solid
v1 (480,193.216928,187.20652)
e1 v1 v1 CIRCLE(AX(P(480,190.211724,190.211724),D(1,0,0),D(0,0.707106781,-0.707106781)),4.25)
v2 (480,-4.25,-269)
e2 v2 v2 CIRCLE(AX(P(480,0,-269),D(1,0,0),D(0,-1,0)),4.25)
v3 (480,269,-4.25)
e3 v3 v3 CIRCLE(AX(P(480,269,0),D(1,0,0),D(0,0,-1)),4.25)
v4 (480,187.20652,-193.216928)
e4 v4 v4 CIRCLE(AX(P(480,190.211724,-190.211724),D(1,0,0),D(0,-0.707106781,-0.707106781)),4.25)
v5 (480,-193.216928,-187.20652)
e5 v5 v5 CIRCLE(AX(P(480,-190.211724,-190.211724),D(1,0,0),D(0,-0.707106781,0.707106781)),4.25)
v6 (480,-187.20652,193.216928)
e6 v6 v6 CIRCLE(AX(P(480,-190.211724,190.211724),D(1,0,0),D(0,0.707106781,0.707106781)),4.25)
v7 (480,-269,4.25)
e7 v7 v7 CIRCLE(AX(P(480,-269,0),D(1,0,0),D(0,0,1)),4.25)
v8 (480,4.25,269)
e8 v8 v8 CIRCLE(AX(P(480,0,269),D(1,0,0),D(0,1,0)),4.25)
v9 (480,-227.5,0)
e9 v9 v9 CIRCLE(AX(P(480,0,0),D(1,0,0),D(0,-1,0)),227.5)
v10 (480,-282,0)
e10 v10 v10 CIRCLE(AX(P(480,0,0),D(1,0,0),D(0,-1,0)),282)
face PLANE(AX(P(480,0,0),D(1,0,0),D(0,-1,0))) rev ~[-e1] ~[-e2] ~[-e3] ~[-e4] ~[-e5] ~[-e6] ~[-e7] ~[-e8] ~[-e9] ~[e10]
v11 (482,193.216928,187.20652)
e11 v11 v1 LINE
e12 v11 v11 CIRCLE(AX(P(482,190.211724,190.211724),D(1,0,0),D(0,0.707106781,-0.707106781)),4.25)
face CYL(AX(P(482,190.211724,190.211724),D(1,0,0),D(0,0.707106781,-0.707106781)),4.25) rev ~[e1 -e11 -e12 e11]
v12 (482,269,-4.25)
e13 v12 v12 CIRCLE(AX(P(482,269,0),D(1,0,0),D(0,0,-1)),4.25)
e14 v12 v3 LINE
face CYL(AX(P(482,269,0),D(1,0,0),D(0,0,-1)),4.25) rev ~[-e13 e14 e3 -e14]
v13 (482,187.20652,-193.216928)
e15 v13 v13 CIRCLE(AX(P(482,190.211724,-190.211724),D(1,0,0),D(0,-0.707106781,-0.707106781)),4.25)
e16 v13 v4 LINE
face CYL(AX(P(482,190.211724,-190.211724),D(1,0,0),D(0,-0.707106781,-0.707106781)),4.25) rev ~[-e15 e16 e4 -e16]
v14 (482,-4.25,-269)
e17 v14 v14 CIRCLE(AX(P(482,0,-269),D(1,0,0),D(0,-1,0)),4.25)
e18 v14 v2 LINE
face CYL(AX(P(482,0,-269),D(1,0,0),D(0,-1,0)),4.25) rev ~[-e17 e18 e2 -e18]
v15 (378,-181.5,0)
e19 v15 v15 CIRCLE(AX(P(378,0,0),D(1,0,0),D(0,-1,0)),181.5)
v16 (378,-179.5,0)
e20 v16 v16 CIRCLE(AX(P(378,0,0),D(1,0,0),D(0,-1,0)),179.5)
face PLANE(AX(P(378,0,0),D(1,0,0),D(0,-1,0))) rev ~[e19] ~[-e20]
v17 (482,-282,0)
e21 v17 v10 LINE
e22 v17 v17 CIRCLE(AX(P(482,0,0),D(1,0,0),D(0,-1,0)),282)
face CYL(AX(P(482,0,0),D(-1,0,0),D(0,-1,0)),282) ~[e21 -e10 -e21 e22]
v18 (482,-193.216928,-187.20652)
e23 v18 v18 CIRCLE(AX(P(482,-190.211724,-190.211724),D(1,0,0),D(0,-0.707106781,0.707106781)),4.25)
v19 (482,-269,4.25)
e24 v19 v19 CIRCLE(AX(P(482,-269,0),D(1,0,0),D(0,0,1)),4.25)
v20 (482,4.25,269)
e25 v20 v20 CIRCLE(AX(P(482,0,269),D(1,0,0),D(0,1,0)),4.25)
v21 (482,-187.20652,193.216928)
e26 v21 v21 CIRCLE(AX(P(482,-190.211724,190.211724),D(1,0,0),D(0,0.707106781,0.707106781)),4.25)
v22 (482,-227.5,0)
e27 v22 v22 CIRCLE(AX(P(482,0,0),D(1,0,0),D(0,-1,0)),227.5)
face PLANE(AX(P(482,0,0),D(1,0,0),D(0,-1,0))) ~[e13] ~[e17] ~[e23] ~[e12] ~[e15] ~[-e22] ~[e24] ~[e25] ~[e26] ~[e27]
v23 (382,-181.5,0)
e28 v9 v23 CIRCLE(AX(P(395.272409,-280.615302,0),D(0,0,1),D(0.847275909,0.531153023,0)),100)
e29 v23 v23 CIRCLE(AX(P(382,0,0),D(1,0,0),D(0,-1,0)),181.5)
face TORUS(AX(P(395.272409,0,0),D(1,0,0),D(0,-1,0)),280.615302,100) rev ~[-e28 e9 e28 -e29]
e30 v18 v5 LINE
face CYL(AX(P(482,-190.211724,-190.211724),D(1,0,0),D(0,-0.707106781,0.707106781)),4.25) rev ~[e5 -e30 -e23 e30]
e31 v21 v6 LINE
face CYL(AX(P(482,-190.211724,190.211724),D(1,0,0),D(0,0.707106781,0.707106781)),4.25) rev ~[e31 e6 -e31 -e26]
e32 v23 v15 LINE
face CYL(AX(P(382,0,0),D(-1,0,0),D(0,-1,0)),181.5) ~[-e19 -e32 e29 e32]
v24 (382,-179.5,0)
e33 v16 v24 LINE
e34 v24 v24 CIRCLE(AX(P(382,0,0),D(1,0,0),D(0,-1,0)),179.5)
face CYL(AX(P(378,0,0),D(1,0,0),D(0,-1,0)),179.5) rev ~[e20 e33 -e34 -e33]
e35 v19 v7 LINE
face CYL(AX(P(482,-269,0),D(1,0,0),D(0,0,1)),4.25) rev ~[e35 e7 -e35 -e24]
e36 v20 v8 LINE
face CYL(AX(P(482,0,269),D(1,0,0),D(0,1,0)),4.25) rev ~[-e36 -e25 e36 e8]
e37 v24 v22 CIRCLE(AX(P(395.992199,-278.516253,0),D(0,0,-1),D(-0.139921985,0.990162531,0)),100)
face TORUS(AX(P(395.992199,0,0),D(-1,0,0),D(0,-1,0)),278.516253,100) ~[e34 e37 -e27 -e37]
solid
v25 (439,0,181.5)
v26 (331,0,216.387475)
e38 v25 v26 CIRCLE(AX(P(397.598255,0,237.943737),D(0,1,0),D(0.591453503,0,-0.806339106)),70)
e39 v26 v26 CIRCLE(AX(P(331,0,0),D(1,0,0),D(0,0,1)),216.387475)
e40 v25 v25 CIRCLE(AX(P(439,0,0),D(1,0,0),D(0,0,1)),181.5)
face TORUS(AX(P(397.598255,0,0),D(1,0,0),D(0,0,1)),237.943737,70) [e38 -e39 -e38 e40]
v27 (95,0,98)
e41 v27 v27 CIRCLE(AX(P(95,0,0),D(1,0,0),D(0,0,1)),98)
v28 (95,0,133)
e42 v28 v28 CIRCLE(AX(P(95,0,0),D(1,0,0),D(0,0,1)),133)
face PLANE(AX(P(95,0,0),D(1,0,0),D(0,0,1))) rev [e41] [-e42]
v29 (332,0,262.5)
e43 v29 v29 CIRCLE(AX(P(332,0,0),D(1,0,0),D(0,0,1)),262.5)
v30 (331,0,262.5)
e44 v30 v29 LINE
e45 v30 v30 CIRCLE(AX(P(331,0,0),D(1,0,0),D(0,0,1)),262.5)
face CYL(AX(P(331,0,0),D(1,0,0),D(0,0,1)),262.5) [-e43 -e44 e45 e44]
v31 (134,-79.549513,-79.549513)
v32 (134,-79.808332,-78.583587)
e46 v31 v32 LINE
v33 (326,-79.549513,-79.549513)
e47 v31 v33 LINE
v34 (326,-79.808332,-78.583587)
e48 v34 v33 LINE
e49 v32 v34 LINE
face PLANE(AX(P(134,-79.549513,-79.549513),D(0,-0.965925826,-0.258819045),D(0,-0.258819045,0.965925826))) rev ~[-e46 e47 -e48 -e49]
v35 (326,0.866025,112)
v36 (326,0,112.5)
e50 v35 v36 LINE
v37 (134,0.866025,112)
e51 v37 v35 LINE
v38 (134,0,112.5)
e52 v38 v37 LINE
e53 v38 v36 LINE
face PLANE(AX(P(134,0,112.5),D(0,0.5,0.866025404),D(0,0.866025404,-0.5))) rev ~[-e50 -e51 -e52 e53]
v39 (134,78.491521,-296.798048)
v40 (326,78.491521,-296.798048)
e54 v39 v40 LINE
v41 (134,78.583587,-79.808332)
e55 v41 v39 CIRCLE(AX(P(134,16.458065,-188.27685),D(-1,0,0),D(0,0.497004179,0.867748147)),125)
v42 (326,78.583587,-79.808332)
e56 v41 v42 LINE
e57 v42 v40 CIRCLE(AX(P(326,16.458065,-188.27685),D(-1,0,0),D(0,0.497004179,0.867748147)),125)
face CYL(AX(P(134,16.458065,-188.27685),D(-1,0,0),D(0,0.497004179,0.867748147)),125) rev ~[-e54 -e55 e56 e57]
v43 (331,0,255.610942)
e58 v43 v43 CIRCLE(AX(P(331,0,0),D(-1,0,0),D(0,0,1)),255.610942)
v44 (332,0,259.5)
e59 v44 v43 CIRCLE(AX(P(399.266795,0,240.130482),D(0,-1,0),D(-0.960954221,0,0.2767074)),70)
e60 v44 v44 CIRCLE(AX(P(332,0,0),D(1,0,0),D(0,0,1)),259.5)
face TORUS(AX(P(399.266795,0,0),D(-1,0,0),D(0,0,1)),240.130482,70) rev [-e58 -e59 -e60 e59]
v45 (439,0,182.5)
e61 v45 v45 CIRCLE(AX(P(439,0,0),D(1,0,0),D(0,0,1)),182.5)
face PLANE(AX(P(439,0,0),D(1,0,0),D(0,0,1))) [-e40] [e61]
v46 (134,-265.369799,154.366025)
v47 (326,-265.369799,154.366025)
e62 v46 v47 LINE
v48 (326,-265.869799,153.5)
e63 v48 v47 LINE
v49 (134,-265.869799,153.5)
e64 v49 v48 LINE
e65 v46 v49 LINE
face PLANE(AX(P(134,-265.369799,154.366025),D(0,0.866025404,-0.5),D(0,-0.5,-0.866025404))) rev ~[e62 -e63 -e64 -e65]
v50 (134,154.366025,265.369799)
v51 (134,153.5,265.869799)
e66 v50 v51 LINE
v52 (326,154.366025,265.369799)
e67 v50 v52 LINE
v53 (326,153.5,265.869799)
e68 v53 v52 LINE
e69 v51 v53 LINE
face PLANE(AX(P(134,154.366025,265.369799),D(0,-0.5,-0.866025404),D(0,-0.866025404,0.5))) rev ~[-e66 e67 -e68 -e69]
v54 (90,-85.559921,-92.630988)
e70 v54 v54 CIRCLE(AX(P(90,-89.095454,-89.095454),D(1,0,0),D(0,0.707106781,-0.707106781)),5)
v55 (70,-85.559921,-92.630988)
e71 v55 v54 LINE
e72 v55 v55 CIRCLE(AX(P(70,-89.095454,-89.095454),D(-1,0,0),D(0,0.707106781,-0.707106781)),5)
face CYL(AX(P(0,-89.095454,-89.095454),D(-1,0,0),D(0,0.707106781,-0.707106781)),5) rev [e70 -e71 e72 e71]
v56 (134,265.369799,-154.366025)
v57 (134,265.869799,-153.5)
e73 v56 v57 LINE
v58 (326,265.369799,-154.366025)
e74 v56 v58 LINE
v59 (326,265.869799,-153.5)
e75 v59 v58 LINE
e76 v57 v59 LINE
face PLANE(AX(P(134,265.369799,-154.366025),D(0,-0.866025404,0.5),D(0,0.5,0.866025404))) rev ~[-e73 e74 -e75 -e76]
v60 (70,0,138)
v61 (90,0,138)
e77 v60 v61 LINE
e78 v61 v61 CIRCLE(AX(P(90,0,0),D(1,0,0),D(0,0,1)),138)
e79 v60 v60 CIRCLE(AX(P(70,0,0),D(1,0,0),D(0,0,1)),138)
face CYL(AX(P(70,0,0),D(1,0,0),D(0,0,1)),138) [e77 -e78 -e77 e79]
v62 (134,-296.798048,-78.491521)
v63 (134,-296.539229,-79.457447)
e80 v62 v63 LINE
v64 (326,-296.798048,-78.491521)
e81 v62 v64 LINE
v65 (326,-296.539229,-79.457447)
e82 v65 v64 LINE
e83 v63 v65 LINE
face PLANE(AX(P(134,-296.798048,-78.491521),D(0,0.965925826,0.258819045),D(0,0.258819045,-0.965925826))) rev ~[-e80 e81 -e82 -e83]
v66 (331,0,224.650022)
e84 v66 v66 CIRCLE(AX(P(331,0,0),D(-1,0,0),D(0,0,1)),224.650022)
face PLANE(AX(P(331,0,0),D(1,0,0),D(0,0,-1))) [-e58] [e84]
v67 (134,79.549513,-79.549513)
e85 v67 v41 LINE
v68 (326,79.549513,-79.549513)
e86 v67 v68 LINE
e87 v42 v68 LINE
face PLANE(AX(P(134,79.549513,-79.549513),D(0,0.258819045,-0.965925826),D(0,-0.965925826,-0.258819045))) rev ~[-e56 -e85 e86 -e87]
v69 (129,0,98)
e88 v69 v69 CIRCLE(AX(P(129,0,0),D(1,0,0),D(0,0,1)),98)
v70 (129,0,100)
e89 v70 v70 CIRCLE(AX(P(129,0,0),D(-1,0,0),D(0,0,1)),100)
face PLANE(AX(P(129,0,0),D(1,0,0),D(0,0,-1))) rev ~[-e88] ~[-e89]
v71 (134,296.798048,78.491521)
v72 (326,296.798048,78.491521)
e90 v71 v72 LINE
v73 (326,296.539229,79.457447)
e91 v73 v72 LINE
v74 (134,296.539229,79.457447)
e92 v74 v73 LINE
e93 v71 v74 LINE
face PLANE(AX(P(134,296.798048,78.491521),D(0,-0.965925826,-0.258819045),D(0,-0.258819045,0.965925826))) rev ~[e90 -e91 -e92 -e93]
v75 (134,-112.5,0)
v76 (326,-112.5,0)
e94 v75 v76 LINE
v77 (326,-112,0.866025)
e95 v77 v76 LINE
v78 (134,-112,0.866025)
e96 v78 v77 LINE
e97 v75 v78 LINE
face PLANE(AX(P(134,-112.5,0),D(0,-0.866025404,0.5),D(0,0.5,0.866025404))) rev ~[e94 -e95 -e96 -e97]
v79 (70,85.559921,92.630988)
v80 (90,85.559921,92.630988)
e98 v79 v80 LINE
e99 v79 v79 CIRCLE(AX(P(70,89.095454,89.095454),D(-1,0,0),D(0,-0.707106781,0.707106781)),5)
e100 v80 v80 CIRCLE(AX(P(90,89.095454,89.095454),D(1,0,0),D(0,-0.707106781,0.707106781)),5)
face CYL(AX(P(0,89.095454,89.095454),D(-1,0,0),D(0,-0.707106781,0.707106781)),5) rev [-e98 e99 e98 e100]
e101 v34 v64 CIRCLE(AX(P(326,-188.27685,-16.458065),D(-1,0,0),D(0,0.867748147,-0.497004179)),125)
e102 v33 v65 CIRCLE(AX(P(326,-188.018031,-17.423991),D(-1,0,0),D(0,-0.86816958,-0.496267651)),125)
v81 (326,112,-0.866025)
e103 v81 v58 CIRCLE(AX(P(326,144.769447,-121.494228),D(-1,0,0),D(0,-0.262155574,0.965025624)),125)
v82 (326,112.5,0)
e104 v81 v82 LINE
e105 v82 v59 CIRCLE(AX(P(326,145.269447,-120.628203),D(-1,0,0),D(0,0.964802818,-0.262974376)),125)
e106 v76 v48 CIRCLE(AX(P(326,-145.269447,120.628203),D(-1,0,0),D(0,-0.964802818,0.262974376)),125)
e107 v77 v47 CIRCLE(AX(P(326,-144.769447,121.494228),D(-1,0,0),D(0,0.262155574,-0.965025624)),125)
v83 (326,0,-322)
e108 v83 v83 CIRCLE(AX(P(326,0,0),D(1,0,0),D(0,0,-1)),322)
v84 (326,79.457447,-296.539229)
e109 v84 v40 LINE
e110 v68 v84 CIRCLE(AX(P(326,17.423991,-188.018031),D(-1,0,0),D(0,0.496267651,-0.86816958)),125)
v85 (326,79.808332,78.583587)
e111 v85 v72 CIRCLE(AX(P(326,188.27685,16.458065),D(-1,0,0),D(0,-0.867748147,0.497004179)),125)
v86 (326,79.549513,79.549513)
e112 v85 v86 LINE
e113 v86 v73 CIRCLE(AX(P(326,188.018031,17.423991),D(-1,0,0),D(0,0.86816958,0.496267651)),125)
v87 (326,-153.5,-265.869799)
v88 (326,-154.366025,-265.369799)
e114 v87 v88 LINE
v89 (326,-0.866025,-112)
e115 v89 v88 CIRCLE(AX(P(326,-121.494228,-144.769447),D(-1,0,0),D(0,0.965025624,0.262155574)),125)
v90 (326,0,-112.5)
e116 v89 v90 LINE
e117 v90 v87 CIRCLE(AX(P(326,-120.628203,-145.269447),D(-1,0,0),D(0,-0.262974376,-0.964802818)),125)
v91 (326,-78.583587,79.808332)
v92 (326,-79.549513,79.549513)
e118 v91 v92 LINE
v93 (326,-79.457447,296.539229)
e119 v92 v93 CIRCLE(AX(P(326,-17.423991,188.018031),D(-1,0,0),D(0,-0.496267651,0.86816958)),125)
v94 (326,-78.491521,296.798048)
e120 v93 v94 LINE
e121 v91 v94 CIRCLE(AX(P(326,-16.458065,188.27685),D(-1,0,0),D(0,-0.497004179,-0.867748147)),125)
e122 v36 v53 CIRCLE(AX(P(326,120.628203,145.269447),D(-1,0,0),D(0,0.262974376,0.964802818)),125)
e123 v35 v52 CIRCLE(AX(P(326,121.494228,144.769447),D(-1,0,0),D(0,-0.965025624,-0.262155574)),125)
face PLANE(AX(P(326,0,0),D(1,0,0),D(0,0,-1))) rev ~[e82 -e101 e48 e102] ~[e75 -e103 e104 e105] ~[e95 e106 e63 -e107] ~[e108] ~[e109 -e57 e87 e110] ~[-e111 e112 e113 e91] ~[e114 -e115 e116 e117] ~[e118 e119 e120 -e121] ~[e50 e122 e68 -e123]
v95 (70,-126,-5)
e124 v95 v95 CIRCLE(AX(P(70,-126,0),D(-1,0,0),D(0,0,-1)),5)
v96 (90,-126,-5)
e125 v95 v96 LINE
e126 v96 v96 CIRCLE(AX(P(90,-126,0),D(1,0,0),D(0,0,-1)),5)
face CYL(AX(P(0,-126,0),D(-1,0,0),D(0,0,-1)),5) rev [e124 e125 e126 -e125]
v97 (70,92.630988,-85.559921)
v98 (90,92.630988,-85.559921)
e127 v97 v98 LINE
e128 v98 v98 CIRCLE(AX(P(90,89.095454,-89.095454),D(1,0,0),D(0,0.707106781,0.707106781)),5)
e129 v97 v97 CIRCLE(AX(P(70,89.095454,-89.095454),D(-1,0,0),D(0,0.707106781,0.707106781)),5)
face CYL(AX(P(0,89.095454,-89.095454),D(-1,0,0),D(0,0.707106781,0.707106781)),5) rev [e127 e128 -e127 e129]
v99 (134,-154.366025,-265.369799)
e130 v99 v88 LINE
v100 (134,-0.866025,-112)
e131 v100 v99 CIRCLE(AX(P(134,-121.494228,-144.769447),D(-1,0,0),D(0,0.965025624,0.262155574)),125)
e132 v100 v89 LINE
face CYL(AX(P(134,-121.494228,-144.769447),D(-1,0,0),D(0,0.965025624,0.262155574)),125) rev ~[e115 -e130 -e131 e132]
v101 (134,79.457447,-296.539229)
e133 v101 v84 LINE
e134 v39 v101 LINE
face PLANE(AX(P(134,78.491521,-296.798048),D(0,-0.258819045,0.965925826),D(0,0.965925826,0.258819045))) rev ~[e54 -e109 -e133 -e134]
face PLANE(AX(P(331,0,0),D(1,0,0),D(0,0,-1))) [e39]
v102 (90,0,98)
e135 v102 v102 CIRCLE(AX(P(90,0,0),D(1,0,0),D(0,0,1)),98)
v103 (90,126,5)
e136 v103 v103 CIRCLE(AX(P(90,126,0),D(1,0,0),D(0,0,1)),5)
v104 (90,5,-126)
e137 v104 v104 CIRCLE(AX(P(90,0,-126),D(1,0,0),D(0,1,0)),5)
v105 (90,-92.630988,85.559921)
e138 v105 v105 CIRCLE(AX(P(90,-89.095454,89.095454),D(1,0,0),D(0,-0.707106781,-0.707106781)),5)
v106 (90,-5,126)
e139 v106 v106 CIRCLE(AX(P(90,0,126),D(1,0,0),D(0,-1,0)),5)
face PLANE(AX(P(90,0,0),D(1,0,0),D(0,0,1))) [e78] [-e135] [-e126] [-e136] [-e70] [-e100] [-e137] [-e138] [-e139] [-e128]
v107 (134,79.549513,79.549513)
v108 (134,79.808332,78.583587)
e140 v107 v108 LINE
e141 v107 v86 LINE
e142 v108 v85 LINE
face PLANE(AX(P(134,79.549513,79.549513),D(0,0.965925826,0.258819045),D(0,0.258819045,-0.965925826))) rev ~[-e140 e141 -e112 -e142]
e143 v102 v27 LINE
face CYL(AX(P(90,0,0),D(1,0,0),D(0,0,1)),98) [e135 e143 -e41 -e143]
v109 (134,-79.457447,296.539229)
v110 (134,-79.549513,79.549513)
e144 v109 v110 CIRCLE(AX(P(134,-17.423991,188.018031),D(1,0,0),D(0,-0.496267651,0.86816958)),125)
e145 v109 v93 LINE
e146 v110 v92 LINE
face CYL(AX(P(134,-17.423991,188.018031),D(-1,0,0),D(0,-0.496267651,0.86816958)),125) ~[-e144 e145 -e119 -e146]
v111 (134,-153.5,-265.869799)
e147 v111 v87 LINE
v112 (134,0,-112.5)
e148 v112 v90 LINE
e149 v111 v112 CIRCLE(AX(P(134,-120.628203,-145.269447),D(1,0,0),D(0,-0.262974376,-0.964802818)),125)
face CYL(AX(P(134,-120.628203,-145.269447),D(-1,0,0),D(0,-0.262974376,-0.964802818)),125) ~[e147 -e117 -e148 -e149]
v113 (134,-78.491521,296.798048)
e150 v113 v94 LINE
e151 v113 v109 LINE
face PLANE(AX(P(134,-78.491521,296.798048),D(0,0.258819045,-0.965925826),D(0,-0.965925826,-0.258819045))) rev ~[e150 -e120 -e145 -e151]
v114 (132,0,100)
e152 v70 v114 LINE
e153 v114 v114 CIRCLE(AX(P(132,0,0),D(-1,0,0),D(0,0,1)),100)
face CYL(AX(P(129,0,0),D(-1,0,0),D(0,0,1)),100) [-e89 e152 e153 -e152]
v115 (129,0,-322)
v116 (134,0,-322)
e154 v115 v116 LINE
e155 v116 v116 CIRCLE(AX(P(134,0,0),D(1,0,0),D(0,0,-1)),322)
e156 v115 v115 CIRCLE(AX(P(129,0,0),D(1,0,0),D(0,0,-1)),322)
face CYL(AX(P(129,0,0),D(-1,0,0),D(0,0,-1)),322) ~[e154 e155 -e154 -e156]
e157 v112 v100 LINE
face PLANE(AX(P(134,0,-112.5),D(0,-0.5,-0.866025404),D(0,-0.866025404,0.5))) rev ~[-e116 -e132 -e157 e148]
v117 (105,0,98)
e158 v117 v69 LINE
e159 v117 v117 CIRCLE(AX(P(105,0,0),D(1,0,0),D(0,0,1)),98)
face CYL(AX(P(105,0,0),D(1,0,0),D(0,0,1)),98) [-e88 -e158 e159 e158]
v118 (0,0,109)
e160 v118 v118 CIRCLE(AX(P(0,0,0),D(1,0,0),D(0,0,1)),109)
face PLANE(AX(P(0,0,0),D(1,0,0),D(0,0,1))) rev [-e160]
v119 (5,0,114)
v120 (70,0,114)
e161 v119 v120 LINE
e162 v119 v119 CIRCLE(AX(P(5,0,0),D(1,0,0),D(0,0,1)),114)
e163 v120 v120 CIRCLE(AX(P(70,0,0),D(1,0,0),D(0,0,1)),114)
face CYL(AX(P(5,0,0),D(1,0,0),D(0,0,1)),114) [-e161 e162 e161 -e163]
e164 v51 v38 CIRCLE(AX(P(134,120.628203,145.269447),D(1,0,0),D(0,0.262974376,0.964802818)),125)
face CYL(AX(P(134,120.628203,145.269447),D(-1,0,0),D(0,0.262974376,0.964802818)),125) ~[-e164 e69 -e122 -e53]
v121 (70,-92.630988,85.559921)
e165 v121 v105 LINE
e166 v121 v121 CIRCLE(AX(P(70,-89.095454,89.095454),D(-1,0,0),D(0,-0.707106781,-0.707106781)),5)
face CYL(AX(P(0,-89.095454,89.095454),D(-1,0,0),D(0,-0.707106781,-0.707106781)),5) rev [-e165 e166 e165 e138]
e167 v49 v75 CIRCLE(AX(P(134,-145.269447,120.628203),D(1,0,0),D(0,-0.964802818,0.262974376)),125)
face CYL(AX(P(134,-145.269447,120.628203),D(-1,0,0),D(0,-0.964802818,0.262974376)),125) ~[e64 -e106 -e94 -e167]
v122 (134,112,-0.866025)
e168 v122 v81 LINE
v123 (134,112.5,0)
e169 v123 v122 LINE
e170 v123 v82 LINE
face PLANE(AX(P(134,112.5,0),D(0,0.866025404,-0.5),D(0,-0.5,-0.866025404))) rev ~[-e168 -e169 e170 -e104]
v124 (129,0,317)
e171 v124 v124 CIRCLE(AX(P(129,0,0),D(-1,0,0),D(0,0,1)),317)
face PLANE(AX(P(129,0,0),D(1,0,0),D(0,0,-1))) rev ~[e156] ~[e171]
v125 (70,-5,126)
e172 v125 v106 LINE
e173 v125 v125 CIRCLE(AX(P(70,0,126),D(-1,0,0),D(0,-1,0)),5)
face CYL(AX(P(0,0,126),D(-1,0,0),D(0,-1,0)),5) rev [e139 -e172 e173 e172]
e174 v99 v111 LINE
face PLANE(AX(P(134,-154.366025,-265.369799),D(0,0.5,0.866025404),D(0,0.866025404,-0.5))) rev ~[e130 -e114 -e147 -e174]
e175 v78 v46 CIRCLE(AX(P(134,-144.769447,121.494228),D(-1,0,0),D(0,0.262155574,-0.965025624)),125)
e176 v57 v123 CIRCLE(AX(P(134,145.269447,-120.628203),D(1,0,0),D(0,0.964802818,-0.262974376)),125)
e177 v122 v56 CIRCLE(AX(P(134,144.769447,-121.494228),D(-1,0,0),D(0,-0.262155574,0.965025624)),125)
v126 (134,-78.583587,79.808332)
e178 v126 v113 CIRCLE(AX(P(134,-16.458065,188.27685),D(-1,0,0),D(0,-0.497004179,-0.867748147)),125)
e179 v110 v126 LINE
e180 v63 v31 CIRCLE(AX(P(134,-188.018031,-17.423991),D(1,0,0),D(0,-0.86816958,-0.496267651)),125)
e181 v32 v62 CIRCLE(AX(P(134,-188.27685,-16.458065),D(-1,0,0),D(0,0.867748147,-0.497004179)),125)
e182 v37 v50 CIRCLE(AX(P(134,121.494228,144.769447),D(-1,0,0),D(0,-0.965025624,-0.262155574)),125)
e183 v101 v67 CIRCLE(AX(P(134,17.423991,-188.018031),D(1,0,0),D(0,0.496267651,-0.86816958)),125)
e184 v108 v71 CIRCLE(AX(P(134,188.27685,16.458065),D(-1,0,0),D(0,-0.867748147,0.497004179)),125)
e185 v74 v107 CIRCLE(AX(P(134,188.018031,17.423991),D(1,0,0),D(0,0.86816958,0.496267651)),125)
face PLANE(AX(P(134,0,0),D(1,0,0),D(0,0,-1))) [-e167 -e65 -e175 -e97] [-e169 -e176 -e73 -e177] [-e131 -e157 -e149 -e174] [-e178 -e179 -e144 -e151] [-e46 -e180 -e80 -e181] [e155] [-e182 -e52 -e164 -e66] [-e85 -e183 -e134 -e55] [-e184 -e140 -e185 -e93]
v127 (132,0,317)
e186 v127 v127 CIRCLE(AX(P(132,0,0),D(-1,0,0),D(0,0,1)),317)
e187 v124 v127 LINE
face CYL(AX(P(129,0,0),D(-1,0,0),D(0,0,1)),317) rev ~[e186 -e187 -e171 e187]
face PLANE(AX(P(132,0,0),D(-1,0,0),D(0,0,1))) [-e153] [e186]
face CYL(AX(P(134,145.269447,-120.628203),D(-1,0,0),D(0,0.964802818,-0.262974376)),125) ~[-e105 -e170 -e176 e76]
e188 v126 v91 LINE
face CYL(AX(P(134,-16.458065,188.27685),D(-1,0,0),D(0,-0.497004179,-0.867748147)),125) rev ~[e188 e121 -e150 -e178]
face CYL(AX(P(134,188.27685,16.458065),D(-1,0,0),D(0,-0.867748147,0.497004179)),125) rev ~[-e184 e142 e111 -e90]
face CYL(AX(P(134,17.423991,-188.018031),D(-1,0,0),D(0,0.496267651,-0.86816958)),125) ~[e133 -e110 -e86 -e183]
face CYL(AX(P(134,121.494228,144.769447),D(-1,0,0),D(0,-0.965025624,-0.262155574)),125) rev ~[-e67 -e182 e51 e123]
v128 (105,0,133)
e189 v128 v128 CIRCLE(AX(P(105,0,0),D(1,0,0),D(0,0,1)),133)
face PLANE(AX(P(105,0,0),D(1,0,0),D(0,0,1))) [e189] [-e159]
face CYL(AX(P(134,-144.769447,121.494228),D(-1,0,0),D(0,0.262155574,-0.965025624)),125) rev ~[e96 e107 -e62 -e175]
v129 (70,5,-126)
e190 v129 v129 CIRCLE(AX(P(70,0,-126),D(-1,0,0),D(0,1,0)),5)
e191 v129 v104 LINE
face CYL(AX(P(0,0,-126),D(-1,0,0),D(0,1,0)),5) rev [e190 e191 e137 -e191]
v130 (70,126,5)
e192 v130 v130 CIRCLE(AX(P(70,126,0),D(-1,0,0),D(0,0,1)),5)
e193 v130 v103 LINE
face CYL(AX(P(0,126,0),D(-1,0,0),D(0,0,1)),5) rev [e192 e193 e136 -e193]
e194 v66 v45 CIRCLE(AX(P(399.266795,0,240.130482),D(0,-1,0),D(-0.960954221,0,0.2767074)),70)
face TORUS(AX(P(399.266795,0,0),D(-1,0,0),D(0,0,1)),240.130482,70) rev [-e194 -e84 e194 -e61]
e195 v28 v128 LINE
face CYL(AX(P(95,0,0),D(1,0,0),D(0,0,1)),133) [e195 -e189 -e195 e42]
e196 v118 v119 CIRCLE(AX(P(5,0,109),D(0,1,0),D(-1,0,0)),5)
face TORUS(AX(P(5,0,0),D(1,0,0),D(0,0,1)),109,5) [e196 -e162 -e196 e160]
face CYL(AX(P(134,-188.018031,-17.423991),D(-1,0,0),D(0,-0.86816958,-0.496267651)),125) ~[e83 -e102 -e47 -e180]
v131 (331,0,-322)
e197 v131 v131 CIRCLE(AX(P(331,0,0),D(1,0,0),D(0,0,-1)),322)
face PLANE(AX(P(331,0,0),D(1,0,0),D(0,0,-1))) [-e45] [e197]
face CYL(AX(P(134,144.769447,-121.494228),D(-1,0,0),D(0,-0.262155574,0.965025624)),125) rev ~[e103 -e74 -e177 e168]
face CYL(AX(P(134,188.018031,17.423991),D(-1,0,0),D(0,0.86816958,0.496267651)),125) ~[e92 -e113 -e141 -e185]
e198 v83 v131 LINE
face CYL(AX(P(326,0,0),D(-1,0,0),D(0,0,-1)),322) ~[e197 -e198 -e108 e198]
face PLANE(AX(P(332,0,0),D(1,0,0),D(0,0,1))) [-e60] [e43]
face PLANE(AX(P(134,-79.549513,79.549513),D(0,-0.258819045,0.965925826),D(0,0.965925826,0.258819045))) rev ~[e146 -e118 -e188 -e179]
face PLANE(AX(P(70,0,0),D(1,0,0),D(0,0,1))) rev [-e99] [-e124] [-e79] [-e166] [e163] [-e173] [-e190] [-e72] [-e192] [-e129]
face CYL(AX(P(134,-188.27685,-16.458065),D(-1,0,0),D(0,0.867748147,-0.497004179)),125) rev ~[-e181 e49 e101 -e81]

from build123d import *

# Parameters (mm, degrees)
SKETCH2_R         = 322
EXTRUDE1_DEPTH    = 5
SKETCH9_R         = 317
SKETCH9_R_2       = 100
EXTRUDE7_DEPTH    = 3
SKETCH3_R         = 322
EXTRUDE2_DEPTH    = 5
EXTRUDE3_DEPTH    = 197
CIRPATTERN1_COUNT = 8
SKETCH7_R         = 4.25
EXTRUDE5_DEPTH    = 5
CIRPATTERN2_COUNT = 8
SKETCH8_R         = 5
EXTRUDE6_DEPTH    = 90
CIRPATTERN3_COUNT = 8


with BuildPart() as part:
    # Sketch1 → Revolve1 (revolve)
    with BuildSketch(Plane.XY, mode=Mode.PRIVATE) as revolve1_sk:
        with BuildLine():
            Line((0, 0), (0, 109))
            ThreePointArc((0, 109), (1.464466094, 112.535533906), (5, 114))
            Line((5, 114), (70, 114))
            Line((70, 114), (70, 138))
            Line((70, 138), (90, 138))
            Line((90, 138), (90, 98))
            Line((90, 98), (95, 98))
            Line((95, 98), (95, 133))
            Line((95, 133), (105, 133))
            Line((105, 133), (105, 98))
            Line((105, 98), (129, 98))
            Line((129, 98), (129, 0))
            Line((129, 0), (0, 0))
        make_face()
    revolve(revolve1_sk.sketch.rotate(Axis((0, 0, 0), (1, 0, 0)), 90), axis=Axis((0, 0, 0), (1, 0, 0)))

    # Sketch2 → Extrude1 (add)
    with BuildSketch(Plane(origin=(129, 0, 0), x_dir=(0, 0, -1), z_dir=(1, 0, 0))):
        Circle(SKETCH2_R)
    extrude(amount=EXTRUDE1_DEPTH)

    # Sketch9 → Extrude7 (cut)
    with BuildSketch(Plane.ZY.offset(-129)):
        Circle(SKETCH9_R)
        Circle(SKETCH9_R_2, mode=Mode.SUBTRACT)
    extrude(amount=-EXTRUDE7_DEPTH, mode=Mode.SUBTRACT)



with BuildPart() as body_2:
    # Sketch3 → Extrude2 (new body)
    with BuildSketch(Plane(origin=(326, 0, 0), x_dir=(0, 0, -1), z_dir=(1, 0, 0))):
        Circle(SKETCH3_R)
    extrude(amount=EXTRUDE2_DEPTH)


with BuildPart() as part_1:
    add(part.part)

    add(body_2.part)  # Extrude3 merges body 2
    # Sketch4 → Extrude3 (add)
    with BuildSketch(Plane(origin=(134, 0, 0), x_dir=(0, 0, -1), z_dir=(1, 0, 0))):
        with BuildLine():
            Line((0, 112.5), (0.866025404, 112))
            ThreePointArc((0.866025404, 112), (33.143390798, 233.195288477), (154.366025404, 265.369798962))
            Line((154.366025404, 265.369798962), (153.5, 265.869798962))
            ThreePointArc((153.5, 265.869798962), (32.277365394, 233.695288477), (0, 112.5))
        make_face()
    extrude3 = extrude(amount=EXTRUDE3_DEPTH)

    # CirPattern1: Extrude3 ×8 about axis
    cirpattern1_axis = Axis((0, 0, 0), (1, 0, 0))
    for i in range(1, CIRPATTERN1_COUNT):
        add(extrude3.rotate(cirpattern1_axis, i * 360 / CIRPATTERN1_COUNT))

    # Sketch5 → Revolve2 (revolve)
    with BuildSketch(Plane.XY, mode=Mode.PRIVATE) as revolve2_sk:
        with BuildLine():
            Line((331, 262.5), (332, 262.5))
            Line((332, 262.5), (332, 259.5))
            ThreePointArc((332, 259.5), (358.37945443, 183.313008104), (439, 182.5))
            Line((439, 182.5), (439, 181.5))
            ThreePointArc((439, 181.5), (356.613916044, 181.196191446), (331, 259.5))
            Line((331, 259.5), (331, 262.5))
        make_face()
    revolve(revolve2_sk.sketch.rotate(Axis((0, 0, 0), (1, 0, 0)), 90), axis=Axis((0, 0, 0), (1, 0, 0)))

    # Sketch8 → Extrude6 (cut)
    with BuildSketch(Plane(origin=(0, 0, 0), x_dir=(0, 0, -1), z_dir=(1, 0, 0))):
        with Locations(Location((0, 126, 0), (0, 0, 180))):
            Circle(SKETCH8_R)
    extrude6 = extrude(amount=EXTRUDE6_DEPTH, mode=Mode.SUBTRACT)

    # CirPattern3: Extrude6 ×8 about axis
    cirpattern3_axis = Axis((0, 0, 0), (1, 0, 0))
    for i in range(1, CIRPATTERN3_COUNT):
        add(extrude6.rotate(cirpattern3_axis, i * 360 / CIRPATTERN3_COUNT), mode=Mode.SUBTRACT)


with BuildPart() as body_2_2:
    # Sketch6 → Revolve3 (revolve)
    with BuildSketch(Plane.XY, mode=Mode.PRIVATE) as revolve3_sk:
        with BuildLine():
            Line((482, 282), (480, 282))
            Line((480, 282), (480, 227.5))
            ThreePointArc((480, 227.5), (437.763122811, 190.091607925), (382, 181.5))
            Line((382, 181.5), (378, 181.5))
            Line((378, 181.5), (378, 179.5))
            Line((378, 179.5), (382, 179.5))
            ThreePointArc((382, 179.5), (439.265305263, 188.363947369), (482, 227.5))
            Line((482, 227.5), (482, 282))
        make_face()
    revolve(revolve3_sk.sketch.rotate(Axis((0, 0, 0), (1, 0, 0)), 180), axis=Axis((0, 0, 0), (1, 0, 0)))

    # Sketch7 → Extrude5 (cut)
    with BuildSketch(Plane(origin=(482, 0, 0), x_dir=(0, 0, -1), z_dir=(1, 0, 0))):
        with Locations((0, 269)):
            Circle(SKETCH7_R)
    extrude5 = extrude(amount=-EXTRUDE5_DEPTH, mode=Mode.SUBTRACT)

    # CirPattern2: Extrude5 ×8 about axis
    cirpattern2_axis = Axis((0, 0, 0), (1, 0, 0))
    for i in range(1, CIRPATTERN2_COUNT):
        add(extrude5.rotate(cirpattern2_axis, i * 360 / CIRPATTERN2_COUNT), mode=Mode.SUBTRACT)


solid = Compound([part_1.part, body_2_2.part])
